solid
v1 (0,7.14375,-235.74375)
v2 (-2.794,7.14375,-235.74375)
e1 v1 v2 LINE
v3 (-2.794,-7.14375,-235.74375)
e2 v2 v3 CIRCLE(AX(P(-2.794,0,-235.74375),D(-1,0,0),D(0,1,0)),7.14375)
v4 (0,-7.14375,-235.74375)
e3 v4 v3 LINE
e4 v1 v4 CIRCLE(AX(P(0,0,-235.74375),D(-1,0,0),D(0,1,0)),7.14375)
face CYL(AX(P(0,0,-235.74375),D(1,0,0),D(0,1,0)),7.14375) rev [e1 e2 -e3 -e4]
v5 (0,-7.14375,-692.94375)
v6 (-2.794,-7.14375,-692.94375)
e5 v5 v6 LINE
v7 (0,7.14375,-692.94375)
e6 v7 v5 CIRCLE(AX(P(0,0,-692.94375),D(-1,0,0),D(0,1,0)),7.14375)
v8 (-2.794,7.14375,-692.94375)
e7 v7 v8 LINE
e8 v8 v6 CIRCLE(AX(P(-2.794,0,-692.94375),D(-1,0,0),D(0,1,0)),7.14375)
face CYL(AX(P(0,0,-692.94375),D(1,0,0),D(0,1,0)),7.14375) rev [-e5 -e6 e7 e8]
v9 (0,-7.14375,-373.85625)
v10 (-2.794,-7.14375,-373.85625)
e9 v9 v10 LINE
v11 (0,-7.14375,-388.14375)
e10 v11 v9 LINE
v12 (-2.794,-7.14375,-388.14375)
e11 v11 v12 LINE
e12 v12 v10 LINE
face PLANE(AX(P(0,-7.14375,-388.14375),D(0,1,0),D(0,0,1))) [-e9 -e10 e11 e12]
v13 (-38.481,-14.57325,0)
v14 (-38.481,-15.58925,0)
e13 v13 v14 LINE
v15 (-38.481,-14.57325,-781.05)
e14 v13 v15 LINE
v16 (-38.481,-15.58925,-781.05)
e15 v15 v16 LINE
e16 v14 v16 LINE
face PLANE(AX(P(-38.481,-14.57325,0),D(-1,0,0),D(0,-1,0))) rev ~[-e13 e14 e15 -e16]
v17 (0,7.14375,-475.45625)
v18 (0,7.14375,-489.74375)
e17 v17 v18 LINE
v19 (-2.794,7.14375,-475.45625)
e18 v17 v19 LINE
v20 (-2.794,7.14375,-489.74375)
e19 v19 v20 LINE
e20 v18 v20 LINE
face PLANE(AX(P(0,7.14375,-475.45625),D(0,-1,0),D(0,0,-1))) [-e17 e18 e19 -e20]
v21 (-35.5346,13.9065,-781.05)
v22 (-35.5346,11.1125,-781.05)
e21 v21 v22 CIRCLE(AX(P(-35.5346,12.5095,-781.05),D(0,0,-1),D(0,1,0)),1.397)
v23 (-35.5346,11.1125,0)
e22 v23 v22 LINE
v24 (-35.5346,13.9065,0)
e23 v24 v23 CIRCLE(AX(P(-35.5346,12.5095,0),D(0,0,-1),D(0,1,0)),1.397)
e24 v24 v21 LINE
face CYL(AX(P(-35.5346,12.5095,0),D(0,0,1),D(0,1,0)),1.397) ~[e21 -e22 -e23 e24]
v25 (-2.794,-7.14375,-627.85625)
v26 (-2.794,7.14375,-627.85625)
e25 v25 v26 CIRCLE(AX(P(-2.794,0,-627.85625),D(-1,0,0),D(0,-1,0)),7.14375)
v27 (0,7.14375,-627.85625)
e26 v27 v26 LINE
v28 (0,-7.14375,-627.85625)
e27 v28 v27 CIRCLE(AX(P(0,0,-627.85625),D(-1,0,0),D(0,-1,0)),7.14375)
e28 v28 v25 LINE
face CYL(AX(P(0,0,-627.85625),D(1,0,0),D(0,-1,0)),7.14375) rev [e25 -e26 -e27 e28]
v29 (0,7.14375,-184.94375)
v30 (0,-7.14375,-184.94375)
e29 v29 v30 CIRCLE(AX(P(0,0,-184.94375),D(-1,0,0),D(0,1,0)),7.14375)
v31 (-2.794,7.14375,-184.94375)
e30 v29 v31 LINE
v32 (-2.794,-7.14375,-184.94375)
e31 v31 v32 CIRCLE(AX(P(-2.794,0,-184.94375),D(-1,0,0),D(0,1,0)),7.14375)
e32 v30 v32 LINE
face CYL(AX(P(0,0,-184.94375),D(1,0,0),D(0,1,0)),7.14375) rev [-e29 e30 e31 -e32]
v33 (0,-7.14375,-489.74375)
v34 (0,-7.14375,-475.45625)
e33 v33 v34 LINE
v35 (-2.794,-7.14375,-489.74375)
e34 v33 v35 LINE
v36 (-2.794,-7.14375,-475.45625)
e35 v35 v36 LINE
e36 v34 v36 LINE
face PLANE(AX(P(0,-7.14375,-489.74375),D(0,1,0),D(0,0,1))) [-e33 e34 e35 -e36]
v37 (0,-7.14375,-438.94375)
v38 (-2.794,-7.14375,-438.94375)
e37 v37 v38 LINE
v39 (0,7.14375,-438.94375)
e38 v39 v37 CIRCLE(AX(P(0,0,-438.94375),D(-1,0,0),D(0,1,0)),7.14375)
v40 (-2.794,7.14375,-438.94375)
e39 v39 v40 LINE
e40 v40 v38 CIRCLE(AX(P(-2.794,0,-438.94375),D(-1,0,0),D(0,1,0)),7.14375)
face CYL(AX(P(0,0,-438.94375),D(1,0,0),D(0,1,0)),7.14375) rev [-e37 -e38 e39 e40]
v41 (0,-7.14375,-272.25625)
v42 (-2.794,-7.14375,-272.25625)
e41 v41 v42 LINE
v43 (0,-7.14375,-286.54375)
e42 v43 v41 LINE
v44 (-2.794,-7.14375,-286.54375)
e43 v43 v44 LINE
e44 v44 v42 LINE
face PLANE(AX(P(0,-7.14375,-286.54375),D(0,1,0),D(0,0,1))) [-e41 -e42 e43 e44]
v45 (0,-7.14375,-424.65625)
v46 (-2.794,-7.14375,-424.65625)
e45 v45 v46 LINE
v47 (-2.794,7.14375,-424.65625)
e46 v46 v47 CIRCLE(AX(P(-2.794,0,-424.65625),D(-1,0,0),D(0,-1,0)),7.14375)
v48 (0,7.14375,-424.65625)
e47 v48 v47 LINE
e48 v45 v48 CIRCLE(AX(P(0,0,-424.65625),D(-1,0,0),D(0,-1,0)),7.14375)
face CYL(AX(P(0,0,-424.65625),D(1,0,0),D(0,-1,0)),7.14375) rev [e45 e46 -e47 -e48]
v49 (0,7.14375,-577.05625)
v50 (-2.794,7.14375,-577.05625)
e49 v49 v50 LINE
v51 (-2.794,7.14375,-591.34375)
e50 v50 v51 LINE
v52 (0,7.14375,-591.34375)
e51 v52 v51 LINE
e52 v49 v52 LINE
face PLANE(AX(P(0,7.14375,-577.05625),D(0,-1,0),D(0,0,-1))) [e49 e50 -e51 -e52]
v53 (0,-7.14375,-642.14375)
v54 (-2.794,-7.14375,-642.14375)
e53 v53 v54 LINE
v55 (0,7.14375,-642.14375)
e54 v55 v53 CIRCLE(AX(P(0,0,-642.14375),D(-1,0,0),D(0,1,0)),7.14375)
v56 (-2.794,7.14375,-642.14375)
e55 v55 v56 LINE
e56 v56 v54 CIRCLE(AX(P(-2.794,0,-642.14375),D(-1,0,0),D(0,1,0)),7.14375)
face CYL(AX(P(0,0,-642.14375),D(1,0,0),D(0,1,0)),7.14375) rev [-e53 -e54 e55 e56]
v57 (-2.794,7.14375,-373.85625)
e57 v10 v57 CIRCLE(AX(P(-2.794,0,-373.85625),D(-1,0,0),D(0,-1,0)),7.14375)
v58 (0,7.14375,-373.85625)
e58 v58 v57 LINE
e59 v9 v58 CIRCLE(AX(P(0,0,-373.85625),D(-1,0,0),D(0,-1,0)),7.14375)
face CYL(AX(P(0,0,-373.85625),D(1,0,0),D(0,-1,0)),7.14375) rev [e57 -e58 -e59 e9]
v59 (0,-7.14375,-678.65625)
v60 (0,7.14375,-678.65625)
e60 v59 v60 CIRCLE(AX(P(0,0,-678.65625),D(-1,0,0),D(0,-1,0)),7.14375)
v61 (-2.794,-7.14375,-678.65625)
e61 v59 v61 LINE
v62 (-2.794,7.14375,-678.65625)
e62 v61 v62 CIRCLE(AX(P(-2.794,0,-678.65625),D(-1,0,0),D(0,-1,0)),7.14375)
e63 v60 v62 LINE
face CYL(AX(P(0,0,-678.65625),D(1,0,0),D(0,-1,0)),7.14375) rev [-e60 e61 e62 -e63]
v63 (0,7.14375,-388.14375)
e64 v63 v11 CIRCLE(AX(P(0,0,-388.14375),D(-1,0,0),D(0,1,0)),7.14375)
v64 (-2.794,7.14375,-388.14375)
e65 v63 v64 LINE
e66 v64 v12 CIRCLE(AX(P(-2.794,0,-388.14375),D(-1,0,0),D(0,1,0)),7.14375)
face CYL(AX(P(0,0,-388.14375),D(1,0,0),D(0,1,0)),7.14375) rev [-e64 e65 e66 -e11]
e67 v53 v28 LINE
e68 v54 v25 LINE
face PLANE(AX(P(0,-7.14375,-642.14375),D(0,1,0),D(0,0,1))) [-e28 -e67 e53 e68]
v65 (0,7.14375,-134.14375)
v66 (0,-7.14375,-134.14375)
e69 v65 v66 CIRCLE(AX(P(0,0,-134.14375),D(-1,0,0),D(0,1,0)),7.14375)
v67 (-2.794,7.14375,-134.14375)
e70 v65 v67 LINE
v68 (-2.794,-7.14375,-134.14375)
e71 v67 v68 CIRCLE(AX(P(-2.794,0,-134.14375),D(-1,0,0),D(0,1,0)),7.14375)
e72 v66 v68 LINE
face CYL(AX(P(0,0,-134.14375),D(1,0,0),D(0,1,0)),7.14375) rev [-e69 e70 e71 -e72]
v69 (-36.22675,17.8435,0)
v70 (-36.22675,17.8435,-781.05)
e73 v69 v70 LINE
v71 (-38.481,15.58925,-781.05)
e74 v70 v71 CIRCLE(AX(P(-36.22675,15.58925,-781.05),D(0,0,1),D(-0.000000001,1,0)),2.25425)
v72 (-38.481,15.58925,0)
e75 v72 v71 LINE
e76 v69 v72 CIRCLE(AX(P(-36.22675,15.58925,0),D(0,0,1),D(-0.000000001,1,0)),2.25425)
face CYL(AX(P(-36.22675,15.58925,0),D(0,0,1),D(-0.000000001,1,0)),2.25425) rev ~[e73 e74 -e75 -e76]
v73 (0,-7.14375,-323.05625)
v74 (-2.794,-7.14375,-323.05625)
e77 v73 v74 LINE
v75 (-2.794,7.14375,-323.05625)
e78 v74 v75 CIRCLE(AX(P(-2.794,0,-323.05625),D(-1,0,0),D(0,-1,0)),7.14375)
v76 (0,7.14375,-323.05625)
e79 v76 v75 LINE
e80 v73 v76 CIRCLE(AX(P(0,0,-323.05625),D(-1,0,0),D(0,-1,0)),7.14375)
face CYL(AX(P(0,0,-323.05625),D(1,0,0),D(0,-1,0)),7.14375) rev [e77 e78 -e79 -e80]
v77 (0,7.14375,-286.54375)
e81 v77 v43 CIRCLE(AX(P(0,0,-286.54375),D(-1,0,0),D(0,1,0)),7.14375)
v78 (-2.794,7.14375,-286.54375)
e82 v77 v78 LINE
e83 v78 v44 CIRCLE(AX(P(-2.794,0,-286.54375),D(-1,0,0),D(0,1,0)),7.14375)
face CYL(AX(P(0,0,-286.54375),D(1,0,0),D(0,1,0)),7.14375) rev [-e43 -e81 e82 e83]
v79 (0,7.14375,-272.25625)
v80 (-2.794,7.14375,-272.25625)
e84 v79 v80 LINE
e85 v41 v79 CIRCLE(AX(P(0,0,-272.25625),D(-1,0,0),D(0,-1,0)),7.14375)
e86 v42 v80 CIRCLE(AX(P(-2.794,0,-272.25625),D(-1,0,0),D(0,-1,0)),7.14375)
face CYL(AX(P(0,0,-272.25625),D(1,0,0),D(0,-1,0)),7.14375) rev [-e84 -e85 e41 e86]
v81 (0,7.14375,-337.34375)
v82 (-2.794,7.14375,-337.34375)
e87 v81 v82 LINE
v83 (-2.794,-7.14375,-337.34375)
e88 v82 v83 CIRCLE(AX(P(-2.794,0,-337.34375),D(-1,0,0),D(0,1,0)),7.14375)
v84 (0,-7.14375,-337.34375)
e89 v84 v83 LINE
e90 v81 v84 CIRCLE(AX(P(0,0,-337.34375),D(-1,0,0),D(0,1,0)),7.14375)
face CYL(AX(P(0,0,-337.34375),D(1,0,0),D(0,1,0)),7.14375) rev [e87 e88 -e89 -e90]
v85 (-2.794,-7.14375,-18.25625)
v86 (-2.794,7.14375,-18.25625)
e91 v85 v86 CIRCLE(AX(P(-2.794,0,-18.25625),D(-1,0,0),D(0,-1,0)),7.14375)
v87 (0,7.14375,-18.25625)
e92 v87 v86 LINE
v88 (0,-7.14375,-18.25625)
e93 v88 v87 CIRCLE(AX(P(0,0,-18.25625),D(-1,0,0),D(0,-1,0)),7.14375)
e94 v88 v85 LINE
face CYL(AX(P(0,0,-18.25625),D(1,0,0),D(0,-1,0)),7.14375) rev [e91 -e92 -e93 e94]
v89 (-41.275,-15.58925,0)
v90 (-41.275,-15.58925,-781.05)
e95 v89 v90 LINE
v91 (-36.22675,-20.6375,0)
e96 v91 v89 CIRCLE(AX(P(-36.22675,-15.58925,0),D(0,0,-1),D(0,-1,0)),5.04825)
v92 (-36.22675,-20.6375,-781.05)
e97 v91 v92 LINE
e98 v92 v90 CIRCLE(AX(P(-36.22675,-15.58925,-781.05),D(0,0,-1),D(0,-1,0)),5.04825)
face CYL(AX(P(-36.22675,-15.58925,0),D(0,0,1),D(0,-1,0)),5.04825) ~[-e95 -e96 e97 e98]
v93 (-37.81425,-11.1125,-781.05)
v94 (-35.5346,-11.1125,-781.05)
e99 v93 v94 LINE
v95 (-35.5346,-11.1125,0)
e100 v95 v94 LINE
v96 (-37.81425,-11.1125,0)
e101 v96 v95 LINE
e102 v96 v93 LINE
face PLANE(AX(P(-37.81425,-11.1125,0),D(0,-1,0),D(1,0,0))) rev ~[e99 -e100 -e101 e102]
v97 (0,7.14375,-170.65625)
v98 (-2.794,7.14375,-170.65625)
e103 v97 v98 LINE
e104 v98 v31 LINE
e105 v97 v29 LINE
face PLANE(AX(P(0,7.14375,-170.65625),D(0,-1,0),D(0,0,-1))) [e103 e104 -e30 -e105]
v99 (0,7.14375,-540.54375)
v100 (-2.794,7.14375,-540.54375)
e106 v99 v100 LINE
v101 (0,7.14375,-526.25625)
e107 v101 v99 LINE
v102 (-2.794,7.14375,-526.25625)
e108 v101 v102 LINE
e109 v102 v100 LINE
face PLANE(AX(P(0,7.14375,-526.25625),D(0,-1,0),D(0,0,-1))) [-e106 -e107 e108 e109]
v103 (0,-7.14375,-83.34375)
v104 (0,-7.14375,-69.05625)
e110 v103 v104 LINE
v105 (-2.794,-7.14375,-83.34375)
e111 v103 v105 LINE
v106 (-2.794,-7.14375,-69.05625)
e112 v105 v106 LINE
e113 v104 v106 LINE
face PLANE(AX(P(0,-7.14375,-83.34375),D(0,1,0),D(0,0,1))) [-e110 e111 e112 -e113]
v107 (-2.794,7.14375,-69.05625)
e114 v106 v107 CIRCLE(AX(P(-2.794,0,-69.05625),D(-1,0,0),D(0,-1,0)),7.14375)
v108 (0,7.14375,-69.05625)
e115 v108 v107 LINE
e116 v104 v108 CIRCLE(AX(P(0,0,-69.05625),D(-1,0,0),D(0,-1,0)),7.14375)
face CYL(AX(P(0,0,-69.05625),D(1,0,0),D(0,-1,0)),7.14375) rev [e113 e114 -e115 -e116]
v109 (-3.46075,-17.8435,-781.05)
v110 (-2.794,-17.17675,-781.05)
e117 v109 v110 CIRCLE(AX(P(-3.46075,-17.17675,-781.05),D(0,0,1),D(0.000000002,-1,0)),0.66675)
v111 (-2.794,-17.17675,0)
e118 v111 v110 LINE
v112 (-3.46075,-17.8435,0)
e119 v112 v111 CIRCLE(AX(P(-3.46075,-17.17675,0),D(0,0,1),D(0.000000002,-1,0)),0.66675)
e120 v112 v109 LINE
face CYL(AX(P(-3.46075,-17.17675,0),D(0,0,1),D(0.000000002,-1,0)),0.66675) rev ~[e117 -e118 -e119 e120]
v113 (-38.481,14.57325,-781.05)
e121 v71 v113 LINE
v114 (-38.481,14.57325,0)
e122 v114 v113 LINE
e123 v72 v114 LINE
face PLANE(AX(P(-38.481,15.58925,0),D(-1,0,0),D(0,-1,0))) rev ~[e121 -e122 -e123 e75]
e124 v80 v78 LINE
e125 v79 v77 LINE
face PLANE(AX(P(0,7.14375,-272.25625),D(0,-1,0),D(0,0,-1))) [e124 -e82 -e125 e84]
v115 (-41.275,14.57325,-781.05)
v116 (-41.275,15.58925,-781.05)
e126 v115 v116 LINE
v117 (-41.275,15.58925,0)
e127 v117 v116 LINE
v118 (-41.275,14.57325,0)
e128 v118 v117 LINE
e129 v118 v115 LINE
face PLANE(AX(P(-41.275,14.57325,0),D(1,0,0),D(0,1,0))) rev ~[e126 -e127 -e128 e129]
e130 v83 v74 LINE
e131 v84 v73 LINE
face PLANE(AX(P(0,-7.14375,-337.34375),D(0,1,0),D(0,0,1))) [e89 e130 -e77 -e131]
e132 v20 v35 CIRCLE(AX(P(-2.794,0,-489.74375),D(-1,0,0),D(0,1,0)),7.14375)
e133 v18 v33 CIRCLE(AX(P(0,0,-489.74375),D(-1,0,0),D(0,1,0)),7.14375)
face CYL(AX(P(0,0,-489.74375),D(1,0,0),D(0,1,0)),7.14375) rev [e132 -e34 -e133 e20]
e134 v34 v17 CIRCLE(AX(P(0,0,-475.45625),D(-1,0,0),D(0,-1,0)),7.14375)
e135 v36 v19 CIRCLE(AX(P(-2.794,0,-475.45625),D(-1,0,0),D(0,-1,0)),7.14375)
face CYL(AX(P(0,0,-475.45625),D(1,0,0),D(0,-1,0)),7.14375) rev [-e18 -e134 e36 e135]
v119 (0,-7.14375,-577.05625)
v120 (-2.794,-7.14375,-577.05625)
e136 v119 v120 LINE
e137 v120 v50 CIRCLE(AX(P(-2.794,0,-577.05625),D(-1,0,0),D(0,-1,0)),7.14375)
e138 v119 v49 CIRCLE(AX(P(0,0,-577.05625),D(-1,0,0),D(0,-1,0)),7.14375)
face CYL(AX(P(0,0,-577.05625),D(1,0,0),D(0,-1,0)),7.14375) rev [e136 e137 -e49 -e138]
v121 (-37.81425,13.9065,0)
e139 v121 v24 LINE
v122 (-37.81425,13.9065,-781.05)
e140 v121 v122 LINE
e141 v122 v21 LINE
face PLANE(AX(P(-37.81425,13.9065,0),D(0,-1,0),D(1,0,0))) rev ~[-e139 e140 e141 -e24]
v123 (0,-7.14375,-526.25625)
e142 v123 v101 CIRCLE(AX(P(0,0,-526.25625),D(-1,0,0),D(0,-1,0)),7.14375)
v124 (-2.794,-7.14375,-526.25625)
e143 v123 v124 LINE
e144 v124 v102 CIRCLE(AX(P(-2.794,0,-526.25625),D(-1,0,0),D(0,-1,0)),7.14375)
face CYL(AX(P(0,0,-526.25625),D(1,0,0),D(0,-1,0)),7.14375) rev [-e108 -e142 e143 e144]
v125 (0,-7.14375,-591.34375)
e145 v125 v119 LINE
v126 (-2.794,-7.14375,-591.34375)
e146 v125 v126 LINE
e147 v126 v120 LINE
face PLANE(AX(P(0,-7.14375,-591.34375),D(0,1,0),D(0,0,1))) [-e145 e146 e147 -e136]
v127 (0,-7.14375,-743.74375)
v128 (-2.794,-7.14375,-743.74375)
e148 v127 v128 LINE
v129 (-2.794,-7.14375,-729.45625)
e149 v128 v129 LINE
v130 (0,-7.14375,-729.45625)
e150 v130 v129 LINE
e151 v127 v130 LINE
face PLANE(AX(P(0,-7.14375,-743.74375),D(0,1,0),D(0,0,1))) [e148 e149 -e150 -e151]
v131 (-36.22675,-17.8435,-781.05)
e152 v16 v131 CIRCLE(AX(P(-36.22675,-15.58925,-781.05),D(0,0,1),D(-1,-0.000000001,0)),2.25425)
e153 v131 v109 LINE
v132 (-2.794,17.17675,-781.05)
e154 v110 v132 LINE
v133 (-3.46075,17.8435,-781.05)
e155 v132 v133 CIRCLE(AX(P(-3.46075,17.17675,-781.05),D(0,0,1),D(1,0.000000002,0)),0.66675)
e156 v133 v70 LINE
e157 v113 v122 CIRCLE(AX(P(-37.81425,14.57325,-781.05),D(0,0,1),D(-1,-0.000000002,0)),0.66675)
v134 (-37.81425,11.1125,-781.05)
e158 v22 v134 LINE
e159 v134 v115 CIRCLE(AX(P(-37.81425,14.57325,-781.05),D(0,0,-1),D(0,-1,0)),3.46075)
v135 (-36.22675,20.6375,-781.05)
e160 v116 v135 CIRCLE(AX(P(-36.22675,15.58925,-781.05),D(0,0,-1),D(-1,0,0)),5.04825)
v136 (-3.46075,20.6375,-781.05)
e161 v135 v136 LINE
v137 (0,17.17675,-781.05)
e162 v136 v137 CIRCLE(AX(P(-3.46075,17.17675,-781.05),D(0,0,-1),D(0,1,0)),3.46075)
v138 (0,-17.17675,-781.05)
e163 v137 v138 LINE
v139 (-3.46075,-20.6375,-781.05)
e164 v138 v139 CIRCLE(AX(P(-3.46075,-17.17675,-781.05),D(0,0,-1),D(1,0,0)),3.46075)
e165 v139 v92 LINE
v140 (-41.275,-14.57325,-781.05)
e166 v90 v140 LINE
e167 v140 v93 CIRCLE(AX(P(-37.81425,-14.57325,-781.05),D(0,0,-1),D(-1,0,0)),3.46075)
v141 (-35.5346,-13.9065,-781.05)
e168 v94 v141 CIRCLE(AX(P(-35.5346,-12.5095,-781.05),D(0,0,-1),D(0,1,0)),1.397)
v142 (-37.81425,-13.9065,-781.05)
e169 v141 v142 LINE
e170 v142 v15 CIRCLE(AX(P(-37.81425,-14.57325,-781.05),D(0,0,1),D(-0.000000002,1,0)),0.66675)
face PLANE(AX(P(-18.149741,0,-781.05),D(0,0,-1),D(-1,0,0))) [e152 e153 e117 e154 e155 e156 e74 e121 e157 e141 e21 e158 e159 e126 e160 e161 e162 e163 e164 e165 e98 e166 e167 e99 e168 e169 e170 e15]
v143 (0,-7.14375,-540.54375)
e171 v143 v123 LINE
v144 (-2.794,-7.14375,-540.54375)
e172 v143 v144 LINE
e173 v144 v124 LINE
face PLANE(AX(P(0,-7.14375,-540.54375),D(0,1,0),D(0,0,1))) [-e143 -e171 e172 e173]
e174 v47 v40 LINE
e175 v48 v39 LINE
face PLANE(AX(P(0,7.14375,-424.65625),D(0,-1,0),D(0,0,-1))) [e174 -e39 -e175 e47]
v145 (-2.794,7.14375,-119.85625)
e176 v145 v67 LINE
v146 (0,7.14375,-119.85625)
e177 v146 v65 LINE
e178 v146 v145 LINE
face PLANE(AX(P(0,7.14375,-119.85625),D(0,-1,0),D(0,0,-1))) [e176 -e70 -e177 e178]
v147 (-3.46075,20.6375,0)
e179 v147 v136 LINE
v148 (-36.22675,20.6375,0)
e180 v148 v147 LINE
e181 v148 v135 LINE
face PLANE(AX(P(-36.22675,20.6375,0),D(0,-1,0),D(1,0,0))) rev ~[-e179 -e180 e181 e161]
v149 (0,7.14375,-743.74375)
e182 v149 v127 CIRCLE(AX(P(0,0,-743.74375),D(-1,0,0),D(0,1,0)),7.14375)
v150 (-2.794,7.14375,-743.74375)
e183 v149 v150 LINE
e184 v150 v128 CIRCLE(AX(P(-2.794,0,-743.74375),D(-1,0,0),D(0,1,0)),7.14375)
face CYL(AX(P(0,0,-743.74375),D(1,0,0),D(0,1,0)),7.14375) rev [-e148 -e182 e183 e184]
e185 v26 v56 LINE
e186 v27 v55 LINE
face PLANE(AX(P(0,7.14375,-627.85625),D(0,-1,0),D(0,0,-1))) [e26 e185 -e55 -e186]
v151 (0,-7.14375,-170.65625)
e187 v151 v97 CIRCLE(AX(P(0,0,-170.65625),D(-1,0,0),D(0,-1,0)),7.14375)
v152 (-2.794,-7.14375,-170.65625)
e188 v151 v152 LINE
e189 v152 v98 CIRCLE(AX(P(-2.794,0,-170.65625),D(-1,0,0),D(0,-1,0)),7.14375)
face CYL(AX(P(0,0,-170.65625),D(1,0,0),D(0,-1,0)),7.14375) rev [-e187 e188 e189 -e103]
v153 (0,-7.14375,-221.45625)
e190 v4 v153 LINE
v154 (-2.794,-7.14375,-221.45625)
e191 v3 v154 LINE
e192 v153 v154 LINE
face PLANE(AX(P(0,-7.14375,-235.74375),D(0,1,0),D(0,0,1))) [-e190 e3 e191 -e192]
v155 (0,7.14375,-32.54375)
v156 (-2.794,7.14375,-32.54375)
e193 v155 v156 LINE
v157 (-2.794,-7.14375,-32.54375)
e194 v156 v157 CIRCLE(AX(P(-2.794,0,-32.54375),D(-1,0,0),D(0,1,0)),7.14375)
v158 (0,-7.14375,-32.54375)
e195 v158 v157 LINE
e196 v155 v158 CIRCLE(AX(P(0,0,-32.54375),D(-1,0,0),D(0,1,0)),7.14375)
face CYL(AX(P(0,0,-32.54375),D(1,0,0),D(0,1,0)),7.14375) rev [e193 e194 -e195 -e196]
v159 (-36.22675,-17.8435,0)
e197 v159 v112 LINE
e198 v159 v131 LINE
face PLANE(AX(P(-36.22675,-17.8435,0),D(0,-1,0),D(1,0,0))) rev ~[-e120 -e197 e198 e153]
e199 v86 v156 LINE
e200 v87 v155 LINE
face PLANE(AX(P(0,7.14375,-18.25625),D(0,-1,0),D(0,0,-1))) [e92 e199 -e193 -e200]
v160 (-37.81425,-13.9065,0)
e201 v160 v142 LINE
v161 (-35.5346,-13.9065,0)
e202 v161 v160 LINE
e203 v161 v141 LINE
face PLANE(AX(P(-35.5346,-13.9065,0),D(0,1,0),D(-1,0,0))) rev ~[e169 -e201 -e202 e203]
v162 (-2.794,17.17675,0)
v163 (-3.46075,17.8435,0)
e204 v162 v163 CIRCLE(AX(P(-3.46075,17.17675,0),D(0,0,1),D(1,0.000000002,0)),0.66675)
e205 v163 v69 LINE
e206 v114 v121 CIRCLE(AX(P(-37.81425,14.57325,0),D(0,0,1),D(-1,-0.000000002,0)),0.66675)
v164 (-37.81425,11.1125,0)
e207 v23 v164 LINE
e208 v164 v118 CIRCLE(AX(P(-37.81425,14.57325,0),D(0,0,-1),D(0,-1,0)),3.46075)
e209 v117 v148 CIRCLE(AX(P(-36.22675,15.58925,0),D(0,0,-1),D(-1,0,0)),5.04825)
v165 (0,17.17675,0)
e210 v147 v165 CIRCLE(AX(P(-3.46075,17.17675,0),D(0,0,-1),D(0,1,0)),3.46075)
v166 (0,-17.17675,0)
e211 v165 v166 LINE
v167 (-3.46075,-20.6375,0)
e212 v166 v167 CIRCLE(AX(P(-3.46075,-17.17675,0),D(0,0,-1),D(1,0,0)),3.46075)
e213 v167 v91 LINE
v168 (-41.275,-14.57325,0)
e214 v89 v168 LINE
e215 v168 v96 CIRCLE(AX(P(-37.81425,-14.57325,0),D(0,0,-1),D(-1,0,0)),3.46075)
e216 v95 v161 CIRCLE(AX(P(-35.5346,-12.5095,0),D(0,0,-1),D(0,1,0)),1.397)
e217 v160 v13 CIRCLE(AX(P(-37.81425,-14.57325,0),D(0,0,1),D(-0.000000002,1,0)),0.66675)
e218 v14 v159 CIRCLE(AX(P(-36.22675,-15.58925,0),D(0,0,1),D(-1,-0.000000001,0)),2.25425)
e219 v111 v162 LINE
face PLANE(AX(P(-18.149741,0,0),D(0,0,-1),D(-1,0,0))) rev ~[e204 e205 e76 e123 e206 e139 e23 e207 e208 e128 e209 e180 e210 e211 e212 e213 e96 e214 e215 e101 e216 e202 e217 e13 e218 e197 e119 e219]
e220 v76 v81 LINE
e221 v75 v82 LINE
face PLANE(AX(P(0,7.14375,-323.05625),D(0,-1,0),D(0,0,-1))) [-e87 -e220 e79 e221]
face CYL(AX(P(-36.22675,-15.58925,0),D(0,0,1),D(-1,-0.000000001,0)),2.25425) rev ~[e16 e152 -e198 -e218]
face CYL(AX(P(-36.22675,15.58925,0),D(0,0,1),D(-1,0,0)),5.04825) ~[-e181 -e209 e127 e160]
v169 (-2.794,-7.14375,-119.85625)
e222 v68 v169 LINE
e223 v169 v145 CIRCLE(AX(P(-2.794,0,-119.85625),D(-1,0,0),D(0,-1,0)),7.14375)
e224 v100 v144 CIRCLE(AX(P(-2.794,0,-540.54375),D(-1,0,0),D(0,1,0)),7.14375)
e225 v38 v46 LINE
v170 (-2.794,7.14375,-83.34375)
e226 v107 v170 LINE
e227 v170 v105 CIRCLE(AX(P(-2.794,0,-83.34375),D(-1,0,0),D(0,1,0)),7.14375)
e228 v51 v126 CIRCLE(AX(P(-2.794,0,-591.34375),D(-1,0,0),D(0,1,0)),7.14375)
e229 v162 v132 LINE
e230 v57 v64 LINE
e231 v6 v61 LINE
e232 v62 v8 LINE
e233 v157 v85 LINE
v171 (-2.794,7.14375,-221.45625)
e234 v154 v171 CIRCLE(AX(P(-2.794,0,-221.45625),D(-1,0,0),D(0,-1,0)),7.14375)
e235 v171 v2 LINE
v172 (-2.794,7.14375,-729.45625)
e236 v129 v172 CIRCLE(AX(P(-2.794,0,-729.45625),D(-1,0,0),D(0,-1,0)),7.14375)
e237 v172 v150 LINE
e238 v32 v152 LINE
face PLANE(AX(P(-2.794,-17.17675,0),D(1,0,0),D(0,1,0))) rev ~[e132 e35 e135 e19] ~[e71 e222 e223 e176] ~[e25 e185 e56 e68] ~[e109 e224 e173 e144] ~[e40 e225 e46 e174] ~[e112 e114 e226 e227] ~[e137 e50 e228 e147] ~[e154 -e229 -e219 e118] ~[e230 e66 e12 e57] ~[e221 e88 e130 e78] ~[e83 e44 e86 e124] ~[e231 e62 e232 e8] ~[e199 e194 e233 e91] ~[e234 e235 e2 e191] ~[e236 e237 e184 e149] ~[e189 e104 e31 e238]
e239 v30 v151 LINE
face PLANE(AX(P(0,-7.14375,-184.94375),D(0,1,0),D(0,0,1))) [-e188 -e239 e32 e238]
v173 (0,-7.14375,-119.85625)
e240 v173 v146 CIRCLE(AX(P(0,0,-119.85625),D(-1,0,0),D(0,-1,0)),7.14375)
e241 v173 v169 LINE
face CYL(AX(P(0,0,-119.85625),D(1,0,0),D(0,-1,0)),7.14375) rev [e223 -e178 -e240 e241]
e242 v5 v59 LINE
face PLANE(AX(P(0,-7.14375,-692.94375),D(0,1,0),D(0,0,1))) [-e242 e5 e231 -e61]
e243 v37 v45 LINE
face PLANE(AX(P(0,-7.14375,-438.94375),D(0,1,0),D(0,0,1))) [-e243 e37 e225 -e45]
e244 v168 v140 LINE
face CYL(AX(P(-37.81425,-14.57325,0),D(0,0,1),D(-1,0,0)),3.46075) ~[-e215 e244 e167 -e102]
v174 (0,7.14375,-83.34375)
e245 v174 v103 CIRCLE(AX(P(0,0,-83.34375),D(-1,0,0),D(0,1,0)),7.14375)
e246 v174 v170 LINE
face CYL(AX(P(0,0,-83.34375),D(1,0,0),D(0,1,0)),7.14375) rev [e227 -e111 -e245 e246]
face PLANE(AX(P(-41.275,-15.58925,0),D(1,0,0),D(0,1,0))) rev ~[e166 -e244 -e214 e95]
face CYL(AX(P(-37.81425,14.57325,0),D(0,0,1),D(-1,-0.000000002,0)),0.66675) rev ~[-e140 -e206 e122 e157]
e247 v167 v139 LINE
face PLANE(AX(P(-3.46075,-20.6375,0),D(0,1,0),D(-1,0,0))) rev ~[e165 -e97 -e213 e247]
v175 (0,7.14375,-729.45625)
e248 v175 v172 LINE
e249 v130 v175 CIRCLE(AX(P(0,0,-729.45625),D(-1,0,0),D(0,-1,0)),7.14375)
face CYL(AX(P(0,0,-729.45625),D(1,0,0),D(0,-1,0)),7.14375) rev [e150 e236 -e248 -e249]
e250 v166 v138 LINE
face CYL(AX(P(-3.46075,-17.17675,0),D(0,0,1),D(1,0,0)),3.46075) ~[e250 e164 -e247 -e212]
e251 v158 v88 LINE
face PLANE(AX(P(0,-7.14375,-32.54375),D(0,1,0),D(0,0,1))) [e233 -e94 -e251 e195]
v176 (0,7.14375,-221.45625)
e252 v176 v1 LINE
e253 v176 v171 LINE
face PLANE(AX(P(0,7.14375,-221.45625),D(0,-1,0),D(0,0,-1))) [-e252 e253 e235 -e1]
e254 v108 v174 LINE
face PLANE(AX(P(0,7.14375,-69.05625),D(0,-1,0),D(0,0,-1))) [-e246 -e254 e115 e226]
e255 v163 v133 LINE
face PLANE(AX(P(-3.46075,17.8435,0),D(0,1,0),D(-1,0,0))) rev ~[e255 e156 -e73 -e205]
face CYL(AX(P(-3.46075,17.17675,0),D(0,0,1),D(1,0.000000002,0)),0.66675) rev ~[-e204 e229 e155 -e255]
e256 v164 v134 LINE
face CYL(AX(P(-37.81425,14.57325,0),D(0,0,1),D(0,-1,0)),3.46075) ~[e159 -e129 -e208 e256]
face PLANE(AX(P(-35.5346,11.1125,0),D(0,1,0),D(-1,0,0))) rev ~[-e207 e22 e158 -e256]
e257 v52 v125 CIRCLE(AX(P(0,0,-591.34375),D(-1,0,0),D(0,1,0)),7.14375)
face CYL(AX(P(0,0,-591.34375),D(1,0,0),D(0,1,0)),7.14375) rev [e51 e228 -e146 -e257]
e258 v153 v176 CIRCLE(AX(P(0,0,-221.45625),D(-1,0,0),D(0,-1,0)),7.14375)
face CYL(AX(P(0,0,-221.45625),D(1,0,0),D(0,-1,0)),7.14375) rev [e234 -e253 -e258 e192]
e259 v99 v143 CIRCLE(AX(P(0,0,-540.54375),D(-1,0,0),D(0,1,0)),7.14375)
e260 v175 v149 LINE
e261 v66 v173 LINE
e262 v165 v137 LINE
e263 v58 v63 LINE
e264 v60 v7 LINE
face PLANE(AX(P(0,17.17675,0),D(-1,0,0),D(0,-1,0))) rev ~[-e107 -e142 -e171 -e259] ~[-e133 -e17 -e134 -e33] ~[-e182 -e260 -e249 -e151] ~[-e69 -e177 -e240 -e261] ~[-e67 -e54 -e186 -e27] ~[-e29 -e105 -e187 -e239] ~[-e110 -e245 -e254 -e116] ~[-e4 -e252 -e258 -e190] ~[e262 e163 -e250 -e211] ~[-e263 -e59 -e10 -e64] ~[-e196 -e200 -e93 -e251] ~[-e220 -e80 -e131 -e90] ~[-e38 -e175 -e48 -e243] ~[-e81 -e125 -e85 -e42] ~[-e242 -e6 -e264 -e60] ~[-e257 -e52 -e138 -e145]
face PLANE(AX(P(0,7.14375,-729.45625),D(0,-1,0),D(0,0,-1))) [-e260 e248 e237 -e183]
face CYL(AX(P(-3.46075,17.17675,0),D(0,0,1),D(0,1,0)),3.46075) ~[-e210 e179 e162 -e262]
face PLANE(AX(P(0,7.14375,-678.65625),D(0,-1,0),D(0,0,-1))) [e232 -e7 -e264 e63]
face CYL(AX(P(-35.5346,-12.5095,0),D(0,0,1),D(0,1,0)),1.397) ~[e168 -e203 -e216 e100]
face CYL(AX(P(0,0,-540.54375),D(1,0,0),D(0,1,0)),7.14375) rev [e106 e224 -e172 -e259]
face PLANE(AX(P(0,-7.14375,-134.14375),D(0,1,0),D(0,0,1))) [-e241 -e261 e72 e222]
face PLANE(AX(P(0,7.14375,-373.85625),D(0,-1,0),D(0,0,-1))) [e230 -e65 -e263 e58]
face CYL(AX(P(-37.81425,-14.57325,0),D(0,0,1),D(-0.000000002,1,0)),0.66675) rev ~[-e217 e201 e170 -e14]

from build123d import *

# Parameters (mm, degrees)
BOSS_EXTRUDE1_DEPTH = 781.05
CUT_EXTRUDE1_DEPTH  = 2.794
LPATTERN1_COUNT     = 15
LPATTERN1_PITCH     = 50.8


with BuildPart() as part:
    # Sketch1 → Boss-Extrude1 (new body)
    with BuildSketch(Plane.XY):
        with BuildLine():
            Line((-36.22675, 20.6375), (-3.46075, 20.6375))
            ThreePointArc((-3.46075, 20.6375), (-1.013630207, 19.623869793), (0, 17.17675))
            Line((0, 17.17675), (0, -17.17675))
            ThreePointArc((0, -17.17675), (-1.013630207, -19.623869793), (-3.46075, -20.6375))
            Line((-3.46075, -20.6375), (-36.22675, -20.6375))
            ThreePointArc((-36.22675, -20.6375), (-39.796401808, -19.158901808), (-41.275, -15.58925))
            Line((-41.275, -15.58925), (-41.275, -14.57325))
            ThreePointArc((-41.275, -14.57325), (-40.261369793, -12.126130207), (-37.81425, -11.1125))
            Line((-37.81425, -11.1125), (-35.5346, -11.1125))
            ThreePointArc((-35.5346, -11.1125), (-34.1376, -12.5095), (-35.5346, -13.9065))
            Line((-35.5346, -13.9065), (-37.81425, -13.9065))
            ThreePointArc((-37.81425, -13.9065), (-38.285713446, -14.101786554), (-38.481, -14.57325))
            Line((-38.481, -14.57325), (-38.481, -15.58925))
            ThreePointArc((-38.481, -15.58925), (-37.820745461, -17.183245461), (-36.22675, -17.8435))
            Line((-36.22675, -17.8435), (-3.46075, -17.8435))
            ThreePointArc((-3.46075, -17.8435), (-2.989286554, -17.648213446), (-2.794, -17.17675))
            Line((-2.794, -17.17675), (-2.794, 17.17675))
            ThreePointArc((-2.794, 17.17675), (-2.989286554, 17.648213446), (-3.46075, 17.8435))
            Line((-3.46075, 17.8435), (-36.22675, 17.8435))
            ThreePointArc((-36.22675, 17.8435), (-37.820745461, 17.183245461), (-38.481, 15.58925))
            Line((-38.481, 15.58925), (-38.481, 14.57325))
            ThreePointArc((-38.481, 14.57325), (-38.285713446, 14.101786554), (-37.81425, 13.9065))
            Line((-37.81425, 13.9065), (-35.5346, 13.9065))
            ThreePointArc((-35.5346, 13.9065), (-34.1376, 12.5095), (-35.5346, 11.1125))
            Line((-35.5346, 11.1125), (-37.81425, 11.1125))
            ThreePointArc((-37.81425, 11.1125), (-40.261369793, 12.126130207), (-41.275, 14.57325))
            Line((-41.275, 14.57325), (-41.275, 15.58925))
            ThreePointArc((-41.275, 15.58925), (-39.796401808, 19.158901808), (-36.22675, 20.6375))
        make_face()
    extrude(amount=-BOSS_EXTRUDE1_DEPTH)

    # Sketch2 → Cut-Extrude1 (cut)
    with BuildSketch(Plane(origin=(0, 0, 0), x_dir=(0, 0, -1), z_dir=(1, 0, 0))):
        with BuildLine():
            Line((18.25625, 7.14375), (32.54375, 7.14375))
            ThreePointArc((32.54375, 7.14375), (39.6875, 0), (32.54375, -7.14375))
            Line((32.54375, -7.14375), (18.25625, -7.14375))
            ThreePointArc((18.25625, -7.14375), (11.1125, 0), (18.25625, 7.14375))
        make_face()
    cut_extrude1 = extrude(amount=-CUT_EXTRUDE1_DEPTH, mode=Mode.SUBTRACT)

    # LPattern1: Cut-Extrude1 ×15
    with Locations(*[(0, 0, -i * LPATTERN1_PITCH) for i in range(1, LPATTERN1_COUNT)]):
        add(cut_extrude1, mode=Mode.SUBTRACT)


solid = part.part
